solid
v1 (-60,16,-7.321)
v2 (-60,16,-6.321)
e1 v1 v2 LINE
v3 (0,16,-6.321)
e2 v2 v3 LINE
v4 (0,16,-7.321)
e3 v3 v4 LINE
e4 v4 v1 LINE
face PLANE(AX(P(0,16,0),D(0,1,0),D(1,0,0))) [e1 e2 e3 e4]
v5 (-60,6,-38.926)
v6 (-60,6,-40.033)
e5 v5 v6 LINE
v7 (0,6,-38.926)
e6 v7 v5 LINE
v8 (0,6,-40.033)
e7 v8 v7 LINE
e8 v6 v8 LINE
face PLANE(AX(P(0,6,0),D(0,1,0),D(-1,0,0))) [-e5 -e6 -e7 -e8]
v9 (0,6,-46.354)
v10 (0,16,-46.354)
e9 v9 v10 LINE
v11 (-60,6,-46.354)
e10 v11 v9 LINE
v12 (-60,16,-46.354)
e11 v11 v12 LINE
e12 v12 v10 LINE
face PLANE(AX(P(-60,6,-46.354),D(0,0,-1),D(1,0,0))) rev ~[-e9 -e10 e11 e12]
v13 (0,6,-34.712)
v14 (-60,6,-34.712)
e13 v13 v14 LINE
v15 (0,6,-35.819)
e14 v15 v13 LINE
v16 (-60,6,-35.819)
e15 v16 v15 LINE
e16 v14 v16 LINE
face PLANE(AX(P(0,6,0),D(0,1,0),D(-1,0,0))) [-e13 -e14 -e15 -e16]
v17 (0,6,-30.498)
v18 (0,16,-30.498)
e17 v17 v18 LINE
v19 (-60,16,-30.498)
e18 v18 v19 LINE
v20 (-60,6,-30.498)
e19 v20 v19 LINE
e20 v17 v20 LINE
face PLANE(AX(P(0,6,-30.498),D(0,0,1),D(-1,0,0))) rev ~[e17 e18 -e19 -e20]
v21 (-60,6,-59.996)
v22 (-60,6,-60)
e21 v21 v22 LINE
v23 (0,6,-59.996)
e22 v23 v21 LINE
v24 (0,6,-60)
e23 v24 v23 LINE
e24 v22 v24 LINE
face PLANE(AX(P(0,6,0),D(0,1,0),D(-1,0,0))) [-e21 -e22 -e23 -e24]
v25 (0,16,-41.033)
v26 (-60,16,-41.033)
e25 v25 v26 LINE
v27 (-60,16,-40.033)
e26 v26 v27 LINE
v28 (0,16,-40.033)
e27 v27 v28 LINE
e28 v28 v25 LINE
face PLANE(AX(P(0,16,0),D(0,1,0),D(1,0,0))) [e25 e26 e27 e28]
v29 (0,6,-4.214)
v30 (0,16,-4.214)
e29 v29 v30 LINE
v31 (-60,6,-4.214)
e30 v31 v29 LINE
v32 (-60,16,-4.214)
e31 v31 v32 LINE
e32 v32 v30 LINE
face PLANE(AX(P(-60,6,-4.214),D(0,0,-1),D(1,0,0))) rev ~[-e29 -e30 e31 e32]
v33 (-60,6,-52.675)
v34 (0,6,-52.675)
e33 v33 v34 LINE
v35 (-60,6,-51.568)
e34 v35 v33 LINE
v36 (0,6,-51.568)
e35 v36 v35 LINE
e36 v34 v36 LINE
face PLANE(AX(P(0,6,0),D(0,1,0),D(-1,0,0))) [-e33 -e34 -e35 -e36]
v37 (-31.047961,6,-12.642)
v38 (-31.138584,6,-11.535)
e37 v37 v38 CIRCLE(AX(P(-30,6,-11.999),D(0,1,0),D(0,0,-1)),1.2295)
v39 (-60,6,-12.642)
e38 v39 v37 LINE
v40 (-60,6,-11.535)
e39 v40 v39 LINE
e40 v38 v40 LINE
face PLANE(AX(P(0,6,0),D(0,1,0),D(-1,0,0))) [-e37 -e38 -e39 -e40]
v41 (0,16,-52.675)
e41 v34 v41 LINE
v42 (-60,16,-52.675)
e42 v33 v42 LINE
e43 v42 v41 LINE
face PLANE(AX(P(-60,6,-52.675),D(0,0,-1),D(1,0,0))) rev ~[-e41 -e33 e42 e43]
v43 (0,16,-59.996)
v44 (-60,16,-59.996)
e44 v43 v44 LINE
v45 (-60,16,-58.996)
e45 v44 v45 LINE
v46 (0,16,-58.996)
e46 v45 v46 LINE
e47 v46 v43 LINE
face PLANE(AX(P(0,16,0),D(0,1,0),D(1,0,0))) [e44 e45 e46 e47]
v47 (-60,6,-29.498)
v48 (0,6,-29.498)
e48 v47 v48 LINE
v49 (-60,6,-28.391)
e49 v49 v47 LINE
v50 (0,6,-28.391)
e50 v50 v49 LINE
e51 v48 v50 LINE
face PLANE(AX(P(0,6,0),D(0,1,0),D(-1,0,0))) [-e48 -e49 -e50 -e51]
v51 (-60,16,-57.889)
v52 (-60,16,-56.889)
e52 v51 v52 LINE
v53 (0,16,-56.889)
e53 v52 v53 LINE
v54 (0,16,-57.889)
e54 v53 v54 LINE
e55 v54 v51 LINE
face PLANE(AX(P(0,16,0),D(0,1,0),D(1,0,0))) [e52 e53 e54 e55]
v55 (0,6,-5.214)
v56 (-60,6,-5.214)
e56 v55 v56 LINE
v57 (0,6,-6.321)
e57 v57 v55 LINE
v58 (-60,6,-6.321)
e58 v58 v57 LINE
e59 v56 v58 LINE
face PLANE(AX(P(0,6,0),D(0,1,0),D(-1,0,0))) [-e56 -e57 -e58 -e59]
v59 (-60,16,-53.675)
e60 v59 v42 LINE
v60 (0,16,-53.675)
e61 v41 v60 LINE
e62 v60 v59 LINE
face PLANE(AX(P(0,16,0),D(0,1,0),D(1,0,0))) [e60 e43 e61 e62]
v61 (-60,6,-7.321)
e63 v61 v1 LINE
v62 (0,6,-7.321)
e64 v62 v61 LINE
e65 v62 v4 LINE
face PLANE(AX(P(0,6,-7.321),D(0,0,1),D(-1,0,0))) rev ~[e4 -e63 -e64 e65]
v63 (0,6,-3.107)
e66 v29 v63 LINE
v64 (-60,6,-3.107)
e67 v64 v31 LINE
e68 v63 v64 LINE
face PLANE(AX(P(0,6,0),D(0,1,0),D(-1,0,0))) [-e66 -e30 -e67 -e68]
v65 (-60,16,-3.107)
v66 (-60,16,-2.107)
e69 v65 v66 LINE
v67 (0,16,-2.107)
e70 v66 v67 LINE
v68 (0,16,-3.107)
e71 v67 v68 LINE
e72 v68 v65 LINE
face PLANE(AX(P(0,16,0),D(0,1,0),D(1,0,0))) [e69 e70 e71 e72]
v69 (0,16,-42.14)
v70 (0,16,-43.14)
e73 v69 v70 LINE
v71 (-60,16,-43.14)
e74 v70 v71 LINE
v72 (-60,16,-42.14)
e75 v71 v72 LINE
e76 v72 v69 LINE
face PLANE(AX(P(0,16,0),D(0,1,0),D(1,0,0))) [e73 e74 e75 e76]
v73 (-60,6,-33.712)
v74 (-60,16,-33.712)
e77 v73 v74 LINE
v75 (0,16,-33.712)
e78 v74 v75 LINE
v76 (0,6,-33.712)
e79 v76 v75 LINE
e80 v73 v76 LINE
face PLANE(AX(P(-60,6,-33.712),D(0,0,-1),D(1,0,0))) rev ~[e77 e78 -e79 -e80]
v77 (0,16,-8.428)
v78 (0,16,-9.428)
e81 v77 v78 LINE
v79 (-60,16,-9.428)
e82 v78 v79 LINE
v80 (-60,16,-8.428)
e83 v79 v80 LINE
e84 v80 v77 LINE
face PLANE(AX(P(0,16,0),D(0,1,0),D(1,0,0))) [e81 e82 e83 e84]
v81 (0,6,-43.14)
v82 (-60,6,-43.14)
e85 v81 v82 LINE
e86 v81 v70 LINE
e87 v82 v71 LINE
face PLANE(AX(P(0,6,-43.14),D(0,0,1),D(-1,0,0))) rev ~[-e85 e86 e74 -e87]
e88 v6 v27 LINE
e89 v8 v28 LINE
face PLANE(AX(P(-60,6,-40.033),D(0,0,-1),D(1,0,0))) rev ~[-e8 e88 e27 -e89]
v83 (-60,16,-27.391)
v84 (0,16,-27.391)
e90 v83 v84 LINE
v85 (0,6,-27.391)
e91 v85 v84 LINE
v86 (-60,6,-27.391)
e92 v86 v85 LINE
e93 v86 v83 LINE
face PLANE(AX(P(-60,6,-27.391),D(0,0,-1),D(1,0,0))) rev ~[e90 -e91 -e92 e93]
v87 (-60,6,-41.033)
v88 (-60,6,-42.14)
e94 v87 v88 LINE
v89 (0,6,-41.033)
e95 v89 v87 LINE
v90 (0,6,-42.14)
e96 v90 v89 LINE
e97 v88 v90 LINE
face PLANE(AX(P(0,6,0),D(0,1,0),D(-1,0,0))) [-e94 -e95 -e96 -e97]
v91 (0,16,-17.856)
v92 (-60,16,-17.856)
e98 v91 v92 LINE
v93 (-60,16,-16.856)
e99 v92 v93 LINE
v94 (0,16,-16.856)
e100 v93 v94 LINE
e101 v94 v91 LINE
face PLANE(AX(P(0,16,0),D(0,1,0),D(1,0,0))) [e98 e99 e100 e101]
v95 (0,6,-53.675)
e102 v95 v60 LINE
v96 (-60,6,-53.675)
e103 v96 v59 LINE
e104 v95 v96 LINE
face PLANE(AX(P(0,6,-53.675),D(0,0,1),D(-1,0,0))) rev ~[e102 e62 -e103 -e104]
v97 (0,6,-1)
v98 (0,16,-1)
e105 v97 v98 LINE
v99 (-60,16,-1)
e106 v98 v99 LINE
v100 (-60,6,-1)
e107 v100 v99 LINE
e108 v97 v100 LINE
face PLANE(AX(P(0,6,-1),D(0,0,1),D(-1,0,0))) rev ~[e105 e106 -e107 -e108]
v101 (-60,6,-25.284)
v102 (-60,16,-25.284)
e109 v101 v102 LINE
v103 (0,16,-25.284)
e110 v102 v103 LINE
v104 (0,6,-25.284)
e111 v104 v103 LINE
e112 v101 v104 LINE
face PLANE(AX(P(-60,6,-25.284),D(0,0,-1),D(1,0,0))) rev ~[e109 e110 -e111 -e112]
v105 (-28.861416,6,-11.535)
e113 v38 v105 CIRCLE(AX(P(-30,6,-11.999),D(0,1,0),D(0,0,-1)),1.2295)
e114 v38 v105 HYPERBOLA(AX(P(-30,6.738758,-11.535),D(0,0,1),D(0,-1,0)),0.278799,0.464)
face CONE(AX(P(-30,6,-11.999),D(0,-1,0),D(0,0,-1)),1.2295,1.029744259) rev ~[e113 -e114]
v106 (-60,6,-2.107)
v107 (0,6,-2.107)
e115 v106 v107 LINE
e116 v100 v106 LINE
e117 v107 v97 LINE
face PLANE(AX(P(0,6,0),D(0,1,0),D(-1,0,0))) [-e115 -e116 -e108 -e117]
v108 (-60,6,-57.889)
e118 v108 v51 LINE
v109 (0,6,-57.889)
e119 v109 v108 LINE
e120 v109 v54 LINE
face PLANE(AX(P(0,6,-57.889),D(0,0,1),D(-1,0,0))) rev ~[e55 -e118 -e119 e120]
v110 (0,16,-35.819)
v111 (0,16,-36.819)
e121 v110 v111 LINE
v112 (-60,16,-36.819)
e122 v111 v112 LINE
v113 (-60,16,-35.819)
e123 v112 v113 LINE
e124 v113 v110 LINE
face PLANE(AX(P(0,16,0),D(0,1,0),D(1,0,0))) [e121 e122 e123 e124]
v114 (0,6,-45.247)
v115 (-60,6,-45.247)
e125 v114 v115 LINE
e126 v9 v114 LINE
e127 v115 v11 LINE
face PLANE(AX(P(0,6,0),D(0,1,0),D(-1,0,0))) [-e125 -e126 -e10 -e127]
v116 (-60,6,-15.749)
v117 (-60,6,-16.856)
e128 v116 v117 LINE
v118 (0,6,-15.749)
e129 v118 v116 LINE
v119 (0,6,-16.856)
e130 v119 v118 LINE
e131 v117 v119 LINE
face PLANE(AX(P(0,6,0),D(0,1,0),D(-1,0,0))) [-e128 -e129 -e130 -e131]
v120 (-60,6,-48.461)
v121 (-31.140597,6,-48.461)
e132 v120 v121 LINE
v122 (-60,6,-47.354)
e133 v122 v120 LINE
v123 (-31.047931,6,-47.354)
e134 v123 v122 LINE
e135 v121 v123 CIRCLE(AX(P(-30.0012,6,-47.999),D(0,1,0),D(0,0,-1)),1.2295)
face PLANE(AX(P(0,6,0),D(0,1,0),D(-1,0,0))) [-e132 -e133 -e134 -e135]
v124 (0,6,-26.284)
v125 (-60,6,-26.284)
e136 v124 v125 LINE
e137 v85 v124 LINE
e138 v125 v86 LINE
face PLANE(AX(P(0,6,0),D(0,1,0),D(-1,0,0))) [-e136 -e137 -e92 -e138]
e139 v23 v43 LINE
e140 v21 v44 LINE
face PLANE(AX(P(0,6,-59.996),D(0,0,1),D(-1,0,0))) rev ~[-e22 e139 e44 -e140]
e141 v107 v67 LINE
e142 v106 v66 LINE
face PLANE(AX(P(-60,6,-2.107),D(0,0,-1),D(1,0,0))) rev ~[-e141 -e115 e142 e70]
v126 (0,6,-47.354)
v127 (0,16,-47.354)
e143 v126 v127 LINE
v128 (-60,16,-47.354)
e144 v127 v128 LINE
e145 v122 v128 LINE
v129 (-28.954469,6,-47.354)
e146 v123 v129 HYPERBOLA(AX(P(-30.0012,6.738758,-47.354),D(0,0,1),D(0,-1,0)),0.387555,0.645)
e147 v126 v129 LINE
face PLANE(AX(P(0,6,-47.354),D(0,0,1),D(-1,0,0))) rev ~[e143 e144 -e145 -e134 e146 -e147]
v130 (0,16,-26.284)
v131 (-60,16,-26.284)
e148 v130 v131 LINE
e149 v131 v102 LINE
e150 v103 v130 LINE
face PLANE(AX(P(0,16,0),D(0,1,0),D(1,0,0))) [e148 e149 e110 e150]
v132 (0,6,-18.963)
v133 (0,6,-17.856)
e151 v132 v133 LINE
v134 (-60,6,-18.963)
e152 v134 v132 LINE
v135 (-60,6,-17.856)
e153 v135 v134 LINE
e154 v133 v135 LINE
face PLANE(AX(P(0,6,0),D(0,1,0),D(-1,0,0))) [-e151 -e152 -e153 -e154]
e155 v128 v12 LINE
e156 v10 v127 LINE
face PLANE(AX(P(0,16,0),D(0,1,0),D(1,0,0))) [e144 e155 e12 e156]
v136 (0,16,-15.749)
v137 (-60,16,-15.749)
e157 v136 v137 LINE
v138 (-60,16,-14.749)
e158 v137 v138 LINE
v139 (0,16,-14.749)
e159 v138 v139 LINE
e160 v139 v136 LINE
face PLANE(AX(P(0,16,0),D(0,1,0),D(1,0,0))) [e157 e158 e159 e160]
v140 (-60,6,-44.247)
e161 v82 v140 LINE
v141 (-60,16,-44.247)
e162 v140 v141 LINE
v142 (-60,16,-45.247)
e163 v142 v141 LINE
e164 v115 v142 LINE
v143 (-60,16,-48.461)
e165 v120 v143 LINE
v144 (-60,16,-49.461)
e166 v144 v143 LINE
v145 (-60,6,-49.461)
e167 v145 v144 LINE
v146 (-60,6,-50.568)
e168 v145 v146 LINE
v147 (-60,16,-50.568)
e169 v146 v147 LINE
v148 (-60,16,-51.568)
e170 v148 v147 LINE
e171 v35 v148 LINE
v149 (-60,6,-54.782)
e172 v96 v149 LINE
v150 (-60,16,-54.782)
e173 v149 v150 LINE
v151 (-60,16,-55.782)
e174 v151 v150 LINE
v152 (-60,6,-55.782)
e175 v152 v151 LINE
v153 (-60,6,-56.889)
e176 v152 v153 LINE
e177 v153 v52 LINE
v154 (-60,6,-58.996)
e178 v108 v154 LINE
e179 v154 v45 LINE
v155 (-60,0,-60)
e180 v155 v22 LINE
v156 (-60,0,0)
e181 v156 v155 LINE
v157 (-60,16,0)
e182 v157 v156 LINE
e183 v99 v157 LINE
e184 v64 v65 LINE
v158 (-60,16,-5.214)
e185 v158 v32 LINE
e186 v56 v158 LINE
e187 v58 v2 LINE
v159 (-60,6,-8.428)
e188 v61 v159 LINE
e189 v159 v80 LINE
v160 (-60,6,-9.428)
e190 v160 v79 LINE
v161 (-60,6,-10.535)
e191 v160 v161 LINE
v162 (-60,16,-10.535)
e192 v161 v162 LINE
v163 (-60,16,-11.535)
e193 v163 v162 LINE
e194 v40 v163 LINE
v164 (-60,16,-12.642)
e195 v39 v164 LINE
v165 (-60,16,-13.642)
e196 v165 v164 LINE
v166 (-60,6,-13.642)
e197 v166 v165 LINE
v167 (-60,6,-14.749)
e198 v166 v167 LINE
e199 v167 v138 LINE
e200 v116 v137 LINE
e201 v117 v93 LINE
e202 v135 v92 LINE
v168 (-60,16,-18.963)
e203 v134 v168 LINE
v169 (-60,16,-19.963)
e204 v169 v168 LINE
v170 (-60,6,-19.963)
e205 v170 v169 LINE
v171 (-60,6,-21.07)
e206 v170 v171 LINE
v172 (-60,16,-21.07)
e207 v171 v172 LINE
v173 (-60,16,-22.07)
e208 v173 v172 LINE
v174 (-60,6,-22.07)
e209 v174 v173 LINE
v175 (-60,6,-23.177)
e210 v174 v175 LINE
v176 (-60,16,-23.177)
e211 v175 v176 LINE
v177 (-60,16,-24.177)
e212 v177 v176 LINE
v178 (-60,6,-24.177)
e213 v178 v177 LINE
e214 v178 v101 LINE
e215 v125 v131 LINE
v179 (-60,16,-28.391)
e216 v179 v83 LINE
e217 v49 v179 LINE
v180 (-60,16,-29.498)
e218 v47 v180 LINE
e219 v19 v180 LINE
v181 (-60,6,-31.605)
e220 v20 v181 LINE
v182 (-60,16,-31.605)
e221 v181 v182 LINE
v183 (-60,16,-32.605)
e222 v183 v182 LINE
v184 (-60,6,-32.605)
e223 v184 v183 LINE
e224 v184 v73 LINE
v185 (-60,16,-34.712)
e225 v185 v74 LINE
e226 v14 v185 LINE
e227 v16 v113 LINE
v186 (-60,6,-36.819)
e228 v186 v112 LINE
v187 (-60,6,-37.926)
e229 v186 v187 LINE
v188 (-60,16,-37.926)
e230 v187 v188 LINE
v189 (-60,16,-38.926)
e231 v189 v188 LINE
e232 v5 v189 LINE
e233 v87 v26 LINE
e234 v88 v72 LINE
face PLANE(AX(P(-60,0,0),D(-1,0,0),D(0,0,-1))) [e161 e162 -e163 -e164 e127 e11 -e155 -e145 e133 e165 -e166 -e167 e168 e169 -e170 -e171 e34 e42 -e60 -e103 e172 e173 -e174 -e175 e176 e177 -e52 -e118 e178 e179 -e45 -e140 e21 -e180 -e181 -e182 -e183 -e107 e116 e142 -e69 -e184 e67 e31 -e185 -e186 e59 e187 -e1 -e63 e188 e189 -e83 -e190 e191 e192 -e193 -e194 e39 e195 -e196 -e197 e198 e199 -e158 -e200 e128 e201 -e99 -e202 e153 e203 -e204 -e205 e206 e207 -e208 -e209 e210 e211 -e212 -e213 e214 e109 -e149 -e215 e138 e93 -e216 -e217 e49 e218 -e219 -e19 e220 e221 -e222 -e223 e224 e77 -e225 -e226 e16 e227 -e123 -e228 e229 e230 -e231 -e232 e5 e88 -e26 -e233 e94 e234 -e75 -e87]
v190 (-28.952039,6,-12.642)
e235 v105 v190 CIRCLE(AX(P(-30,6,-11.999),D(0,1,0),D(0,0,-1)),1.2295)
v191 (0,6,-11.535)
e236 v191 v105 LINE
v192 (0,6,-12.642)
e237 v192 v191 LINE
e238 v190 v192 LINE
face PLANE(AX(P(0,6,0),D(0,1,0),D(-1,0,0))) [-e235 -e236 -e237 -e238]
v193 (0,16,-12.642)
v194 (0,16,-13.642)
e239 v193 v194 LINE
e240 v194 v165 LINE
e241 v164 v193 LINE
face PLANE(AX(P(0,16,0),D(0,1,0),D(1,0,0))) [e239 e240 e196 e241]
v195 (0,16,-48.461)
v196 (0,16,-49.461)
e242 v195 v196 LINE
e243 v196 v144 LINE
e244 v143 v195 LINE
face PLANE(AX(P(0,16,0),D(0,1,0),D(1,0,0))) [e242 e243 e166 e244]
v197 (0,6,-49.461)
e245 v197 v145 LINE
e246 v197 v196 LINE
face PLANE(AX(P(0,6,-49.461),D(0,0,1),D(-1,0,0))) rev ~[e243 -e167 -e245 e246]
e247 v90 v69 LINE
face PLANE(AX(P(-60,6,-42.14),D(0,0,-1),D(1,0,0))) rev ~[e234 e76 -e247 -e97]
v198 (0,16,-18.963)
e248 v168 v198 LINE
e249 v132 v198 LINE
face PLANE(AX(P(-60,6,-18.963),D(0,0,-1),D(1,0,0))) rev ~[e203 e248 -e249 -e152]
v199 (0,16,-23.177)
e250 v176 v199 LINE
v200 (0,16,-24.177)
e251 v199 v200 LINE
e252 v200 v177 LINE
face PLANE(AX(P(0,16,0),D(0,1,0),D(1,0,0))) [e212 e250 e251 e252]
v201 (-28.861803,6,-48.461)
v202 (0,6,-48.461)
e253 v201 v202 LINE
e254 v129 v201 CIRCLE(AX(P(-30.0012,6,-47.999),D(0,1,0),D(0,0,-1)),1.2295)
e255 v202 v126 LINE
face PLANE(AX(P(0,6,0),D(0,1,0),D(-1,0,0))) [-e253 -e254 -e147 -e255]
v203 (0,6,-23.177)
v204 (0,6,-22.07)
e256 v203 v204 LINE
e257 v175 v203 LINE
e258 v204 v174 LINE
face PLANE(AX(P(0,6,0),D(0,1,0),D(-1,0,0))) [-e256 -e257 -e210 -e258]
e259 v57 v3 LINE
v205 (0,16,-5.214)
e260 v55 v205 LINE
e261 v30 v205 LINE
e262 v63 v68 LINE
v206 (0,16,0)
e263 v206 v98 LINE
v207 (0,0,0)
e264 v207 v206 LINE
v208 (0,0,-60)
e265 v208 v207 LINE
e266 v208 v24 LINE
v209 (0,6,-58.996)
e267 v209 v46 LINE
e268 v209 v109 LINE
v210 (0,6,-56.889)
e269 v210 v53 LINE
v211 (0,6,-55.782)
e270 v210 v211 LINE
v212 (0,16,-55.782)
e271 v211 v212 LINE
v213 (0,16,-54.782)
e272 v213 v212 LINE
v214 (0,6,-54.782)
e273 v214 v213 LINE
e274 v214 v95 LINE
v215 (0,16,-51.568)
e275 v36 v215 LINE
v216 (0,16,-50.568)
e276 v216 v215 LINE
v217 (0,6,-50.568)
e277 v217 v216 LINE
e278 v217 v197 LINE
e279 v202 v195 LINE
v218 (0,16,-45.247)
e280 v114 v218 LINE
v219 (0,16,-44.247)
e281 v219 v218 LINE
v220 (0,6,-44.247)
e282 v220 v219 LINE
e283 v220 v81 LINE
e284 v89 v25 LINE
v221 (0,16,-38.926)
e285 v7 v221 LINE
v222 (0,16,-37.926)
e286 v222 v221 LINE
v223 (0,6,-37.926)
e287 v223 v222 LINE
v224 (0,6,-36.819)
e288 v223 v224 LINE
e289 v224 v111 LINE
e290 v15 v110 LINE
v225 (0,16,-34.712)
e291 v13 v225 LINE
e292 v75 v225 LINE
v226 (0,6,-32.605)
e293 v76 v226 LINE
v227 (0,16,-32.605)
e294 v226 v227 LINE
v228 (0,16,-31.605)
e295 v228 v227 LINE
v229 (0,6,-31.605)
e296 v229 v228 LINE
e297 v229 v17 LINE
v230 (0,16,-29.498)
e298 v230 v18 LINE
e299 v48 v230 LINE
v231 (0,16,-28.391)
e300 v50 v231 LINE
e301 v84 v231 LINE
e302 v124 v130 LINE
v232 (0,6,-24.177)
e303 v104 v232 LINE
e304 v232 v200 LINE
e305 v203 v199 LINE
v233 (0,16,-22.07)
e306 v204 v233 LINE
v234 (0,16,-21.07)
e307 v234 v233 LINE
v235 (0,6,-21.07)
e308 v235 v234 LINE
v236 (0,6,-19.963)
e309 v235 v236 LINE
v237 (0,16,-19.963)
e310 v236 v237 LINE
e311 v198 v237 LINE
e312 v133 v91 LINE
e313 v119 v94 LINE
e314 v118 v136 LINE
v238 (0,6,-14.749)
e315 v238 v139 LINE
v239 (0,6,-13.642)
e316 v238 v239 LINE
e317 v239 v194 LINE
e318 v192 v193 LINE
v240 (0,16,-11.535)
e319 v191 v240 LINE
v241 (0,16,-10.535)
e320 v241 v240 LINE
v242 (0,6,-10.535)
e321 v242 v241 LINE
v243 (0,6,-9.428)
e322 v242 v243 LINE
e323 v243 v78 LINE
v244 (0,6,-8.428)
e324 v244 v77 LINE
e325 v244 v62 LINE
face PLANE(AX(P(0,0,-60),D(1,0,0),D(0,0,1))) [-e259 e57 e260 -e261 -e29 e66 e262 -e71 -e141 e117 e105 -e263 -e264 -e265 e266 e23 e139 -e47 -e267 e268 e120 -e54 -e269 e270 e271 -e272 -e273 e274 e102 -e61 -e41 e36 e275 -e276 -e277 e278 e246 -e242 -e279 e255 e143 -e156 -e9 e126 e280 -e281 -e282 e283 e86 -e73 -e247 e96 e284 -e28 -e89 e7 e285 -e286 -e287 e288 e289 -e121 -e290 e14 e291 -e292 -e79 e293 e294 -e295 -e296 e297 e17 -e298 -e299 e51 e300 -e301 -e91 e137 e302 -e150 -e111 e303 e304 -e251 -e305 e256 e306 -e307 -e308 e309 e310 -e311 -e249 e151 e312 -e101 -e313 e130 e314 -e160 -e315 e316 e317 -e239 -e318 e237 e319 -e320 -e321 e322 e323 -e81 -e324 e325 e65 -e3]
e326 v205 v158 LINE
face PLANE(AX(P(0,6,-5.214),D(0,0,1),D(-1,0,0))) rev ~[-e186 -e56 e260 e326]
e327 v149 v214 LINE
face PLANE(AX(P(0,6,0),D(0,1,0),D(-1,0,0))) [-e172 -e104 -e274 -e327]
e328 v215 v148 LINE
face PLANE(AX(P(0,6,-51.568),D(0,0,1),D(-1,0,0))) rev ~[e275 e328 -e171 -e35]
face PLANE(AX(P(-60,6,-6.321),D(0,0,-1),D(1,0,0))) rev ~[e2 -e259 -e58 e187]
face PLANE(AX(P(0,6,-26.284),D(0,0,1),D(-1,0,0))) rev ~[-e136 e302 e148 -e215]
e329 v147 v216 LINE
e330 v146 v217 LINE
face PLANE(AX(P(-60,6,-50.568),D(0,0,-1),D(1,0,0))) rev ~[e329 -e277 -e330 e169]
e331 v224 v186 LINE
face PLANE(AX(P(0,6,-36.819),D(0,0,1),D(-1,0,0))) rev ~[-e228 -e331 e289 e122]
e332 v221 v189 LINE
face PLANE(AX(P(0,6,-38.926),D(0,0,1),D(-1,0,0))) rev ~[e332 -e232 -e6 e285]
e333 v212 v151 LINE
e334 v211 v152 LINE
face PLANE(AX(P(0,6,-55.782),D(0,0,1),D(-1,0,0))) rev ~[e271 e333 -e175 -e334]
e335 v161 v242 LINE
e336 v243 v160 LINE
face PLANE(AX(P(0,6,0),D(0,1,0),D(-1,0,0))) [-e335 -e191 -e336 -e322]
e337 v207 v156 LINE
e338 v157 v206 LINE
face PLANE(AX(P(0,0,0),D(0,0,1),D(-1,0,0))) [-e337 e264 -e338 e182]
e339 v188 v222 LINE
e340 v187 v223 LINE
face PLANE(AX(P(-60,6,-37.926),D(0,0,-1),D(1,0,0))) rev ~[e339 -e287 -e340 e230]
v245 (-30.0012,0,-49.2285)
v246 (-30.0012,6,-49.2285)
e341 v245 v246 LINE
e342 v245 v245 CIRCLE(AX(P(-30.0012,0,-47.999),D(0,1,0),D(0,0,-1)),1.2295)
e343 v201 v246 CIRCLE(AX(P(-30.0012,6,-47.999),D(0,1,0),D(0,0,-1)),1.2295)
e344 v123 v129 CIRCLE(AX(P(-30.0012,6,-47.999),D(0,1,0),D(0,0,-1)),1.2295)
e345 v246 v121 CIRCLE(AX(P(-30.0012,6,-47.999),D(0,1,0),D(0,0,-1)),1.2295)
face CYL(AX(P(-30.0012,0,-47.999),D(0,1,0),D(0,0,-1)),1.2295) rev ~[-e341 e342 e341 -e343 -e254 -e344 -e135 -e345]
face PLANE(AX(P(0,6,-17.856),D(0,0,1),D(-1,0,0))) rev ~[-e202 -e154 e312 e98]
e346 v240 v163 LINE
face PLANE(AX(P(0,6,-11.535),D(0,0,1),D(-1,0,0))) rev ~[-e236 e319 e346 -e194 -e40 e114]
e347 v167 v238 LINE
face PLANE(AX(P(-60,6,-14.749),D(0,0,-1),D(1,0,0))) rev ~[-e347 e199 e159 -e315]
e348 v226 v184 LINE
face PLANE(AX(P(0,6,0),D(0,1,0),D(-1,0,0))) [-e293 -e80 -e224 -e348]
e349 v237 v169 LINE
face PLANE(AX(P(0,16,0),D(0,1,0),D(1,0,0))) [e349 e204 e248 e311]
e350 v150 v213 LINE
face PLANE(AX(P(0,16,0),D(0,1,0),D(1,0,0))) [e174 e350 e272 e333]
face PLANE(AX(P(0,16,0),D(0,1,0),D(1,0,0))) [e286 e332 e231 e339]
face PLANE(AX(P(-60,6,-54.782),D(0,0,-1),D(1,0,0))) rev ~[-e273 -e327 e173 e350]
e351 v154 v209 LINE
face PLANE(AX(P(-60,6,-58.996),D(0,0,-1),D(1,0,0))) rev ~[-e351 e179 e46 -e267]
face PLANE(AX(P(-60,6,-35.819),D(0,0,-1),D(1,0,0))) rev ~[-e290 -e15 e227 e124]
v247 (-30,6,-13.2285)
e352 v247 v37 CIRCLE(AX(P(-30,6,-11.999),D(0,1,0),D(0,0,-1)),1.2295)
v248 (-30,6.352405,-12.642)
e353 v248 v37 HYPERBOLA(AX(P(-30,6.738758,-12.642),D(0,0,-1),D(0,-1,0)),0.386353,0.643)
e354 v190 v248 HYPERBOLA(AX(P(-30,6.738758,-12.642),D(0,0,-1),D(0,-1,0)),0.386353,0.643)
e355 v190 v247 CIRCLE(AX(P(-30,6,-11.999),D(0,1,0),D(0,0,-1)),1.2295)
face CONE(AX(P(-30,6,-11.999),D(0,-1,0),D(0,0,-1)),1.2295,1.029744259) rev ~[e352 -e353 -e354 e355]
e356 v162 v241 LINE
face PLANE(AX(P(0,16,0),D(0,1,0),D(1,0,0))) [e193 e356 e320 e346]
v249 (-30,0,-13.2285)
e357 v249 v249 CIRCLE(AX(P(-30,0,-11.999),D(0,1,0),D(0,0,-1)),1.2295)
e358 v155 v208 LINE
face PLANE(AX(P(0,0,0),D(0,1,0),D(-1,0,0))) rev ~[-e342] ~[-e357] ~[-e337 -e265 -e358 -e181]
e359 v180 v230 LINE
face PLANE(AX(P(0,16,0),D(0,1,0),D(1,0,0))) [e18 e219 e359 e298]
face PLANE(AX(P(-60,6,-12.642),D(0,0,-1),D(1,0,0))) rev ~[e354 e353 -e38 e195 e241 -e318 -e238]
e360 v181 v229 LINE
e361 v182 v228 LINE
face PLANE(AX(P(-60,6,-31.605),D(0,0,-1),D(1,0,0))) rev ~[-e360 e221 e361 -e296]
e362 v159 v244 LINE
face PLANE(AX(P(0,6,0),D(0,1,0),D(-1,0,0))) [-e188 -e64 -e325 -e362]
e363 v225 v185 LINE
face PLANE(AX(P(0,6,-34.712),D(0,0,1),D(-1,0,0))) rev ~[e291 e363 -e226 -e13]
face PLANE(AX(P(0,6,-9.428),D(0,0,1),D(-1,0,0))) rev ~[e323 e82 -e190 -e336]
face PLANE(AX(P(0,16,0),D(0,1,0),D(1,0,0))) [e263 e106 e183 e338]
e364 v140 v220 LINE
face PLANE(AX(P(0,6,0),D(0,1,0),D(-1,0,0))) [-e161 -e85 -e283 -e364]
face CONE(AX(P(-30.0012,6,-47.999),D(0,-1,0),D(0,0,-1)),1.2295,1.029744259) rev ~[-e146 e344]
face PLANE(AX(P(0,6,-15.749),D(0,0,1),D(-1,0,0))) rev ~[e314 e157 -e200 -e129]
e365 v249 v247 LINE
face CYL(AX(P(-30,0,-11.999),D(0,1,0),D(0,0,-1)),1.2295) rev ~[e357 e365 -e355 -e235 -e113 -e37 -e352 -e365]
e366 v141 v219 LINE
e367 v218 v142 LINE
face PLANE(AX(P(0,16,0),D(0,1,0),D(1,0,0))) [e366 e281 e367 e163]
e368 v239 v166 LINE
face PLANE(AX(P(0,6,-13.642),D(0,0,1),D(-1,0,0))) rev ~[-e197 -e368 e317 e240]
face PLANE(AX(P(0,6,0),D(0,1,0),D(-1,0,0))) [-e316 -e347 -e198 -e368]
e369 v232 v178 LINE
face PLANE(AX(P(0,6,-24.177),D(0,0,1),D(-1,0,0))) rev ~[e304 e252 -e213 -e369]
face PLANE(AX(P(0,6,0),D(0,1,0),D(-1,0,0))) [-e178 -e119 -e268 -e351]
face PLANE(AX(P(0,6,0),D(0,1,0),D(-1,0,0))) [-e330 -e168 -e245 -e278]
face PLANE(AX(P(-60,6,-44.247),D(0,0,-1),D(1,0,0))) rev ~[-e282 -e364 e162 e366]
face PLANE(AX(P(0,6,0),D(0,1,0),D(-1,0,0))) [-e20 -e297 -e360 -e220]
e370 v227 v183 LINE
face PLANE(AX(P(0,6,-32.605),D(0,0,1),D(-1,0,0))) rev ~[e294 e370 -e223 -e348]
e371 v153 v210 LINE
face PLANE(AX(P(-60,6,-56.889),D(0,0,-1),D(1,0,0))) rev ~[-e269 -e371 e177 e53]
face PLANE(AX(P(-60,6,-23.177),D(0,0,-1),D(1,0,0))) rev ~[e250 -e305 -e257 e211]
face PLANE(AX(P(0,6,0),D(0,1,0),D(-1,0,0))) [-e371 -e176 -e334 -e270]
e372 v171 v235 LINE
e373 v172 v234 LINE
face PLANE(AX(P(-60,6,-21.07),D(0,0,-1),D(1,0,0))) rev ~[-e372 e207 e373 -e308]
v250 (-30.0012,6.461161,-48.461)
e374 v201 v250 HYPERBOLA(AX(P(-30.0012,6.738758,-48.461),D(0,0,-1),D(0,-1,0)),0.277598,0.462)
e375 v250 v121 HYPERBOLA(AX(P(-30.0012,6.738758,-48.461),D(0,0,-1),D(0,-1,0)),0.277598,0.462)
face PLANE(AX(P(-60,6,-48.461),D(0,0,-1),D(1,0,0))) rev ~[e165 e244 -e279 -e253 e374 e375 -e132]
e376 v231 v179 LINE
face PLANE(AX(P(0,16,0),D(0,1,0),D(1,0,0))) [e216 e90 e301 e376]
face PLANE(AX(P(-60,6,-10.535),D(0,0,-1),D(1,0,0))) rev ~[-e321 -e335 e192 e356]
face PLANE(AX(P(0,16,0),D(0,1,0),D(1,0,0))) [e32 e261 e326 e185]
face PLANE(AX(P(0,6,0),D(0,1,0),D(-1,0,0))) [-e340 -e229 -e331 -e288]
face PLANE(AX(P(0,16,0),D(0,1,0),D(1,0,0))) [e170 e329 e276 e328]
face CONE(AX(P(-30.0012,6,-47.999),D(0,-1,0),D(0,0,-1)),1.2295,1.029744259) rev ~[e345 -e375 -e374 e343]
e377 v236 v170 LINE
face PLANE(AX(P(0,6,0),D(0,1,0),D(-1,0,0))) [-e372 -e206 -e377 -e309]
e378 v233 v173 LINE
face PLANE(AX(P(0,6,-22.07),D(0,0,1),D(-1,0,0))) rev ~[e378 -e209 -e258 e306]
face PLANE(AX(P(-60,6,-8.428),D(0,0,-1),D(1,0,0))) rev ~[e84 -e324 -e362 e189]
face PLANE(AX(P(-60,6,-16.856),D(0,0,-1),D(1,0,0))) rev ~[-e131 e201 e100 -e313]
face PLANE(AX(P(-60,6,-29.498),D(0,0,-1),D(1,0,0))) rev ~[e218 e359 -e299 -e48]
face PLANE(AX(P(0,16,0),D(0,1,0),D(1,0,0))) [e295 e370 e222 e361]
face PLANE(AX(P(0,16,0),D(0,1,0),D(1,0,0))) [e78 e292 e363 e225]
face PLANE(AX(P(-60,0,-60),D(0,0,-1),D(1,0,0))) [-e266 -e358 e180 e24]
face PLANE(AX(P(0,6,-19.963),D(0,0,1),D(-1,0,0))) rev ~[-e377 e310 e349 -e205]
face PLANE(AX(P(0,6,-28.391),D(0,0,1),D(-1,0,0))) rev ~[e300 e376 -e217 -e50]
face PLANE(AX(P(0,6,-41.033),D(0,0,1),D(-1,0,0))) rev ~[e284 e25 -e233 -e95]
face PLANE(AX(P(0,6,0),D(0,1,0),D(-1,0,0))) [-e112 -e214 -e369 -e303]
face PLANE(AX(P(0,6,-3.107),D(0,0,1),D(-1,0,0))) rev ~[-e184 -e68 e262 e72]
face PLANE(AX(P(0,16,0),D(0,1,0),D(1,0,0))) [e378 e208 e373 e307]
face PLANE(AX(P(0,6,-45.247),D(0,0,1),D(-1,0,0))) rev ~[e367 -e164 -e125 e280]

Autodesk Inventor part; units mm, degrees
ref_plane "YZ Plane" through (0, 0, 0) normal (1, 0, 0) x (0, 1, 0)
ref_plane "XZ Plane" through (0, 0, 0) normal (0, 1, 0) x (-1, 0, 0)
ref_plane "XY Plane" through (0, 0, 0) normal (0, 0, 1) x (1, 0, 0)
sketch "Sketch1" plane through (0, 0, 0) normal (0, 1, 0) x (-1, 0, 0)
  line L0 (0, -72) -> (0, 12) construction
  line L1 (-12, 0) -> (72, 0) construction
  line L2 (0, 0) -> (60, 0)
  line L3 (60, 0) -> (60, -60)
  line L4 (60, -60) -> (0, -60)
  line L5 (0, -60) -> (0, 0)
  dimension "d0" = 60
  dimension "d1" = 60
extrude "Extrusion1" add sketch "Sketch1" along normal blind 6
sketch "Sketch2" plane through (0, 6, 0) normal (0, 1, 0) x (1, 0, 0)
  line L0 (-60, 0) -> (0, 0) construction
  line L1 (0, 0) -> (0, 60) construction
  line L2 (0, 60) -> (-60, 60) construction
  line L3 (-60, 60) -> (-60, 0) construction
  line L4 (0, 0) -> (0, 60) construction
  line L5 (-60, 0) -> (0, 0)
  line L6 (0, 0) -> (0, 1)
  line L7 (0, 1) -> (-60, 1)
  line L8 (-60, 1) -> (-60, 0)
  line L9 (-60, 2.107) -> (0, 2.107)
  line L10 (0, 2.107) -> (0, 3.107)
  line L11 (0, 3.107) -> (-60, 3.107)
  line L12 (-60, 3.107) -> (-60, 2.107)
  line L13 (-60, 4.214) -> (0, 4.214)
  line L14 (0, 4.214) -> (0, 5.214)
  line L15 (0, 5.214) -> (-60, 5.214)
  line L16 (-60, 5.214) -> (-60, 4.214)
  line L17 (-60, 6.321) -> (0, 6.321)
  line L18 (0, 6.321) -> (0, 7.321)
  line L19 (0, 7.321) -> (-60, 7.321)
  line L20 (-60, 7.321) -> (-60, 6.321)
  line L21 (-60, 8.428) -> (0, 8.428)
  line L22 (0, 8.428) -> (0, 9.428)
  line L23 (0, 9.428) -> (-60, 9.428)
  line L24 (-60, 9.428) -> (-60, 8.428)
  line L25 (-60, 10.535) -> (0, 10.535)
  line L26 (0, 10.535) -> (0, 11.535)
  line L27 (0, 11.535) -> (-60, 11.535)
  line L28 (-60, 11.535) -> (-60, 10.535)
  line L29 (-60, 12.642) -> (0, 12.642)
  line L30 (0, 12.642) -> (0, 13.642)
  line L31 (0, 13.642) -> (-60, 13.642)
  line L32 (-60, 13.642) -> (-60, 12.642)
  line L33 (-60, 14.749) -> (0, 14.749)
  line L34 (0, 14.749) -> (0, 15.749)
  line L35 (0, 15.749) -> (-60, 15.749)
  line L36 (-60, 15.749) -> (-60, 14.749)
  line L37 (-60, 16.856) -> (0, 16.856)
  line L38 (0, 16.856) -> (0, 17.856)
  line L39 (0, 17.856) -> (-60, 17.856)
  line L40 (-60, 17.856) -> (-60, 16.856)
  line L41 (-60, 18.963) -> (0, 18.963)
  line L42 (0, 18.963) -> (0, 19.963)
  line L43 (0, 19.963) -> (-60, 19.963)
  line L44 (-60, 19.963) -> (-60, 18.963)
  line L45 (-60, 21.07) -> (0, 21.07)
  line L46 (0, 21.07) -> (0, 22.07)
  line L47 (0, 22.07) -> (-60, 22.07)
  line L48 (-60, 22.07) -> (-60, 21.07)
  line L49 (-60, 23.177) -> (0, 23.177)
  line L50 (0, 23.177) -> (0, 24.177)
  line L51 (0, 24.177) -> (-60, 24.177)
  line L52 (-60, 24.177) -> (-60, 23.177)
  line L53 (-60, 25.284) -> (0, 25.284)
  line L54 (0, 25.284) -> (0, 26.284)
  line L55 (0, 26.284) -> (-60, 26.284)
  line L56 (-60, 26.284) -> (-60, 25.284)
  line L57 (-60, 27.391) -> (0, 27.391)
  line L58 (0, 27.391) -> (0, 28.391)
  line L59 (0, 28.391) -> (-60, 28.391)
  line L60 (-60, 28.391) -> (-60, 27.391)
  line L61 (-60, 29.498) -> (0, 29.498)
  line L62 (0, 29.498) -> (0, 30.498)
  line L63 (0, 30.498) -> (-60, 30.498)
  line L64 (-60, 30.498) -> (-60, 29.498)
  line L65 (-60, 31.605) -> (0, 31.605)
  line L66 (0, 31.605) -> (0, 32.605)
  line L67 (0, 32.605) -> (-60, 32.605)
  line L68 (-60, 32.605) -> (-60, 31.605)
  line L69 (-60, 33.712) -> (0, 33.712)
  line L70 (0, 33.712) -> (0, 34.712)
  line L71 (0, 34.712) -> (-60, 34.712)
  line L72 (-60, 34.712) -> (-60, 33.712)
  line L73 (-60, 35.819) -> (0, 35.819)
  line L74 (0, 35.819) -> (0, 36.819)
  line L75 (0, 36.819) -> (-60, 36.819)
  line L76 (-60, 36.819) -> (-60, 35.819)
  line L77 (-60, 37.926) -> (0, 37.926)
  line L78 (0, 37.926) -> (0, 38.926)
  line L79 (0, 38.926) -> (-60, 38.926)
  line L80 (-60, 38.926) -> (-60, 37.926)
  line L81 (-60, 40.033) -> (0, 40.033)
  line L82 (0, 40.033) -> (0, 41.033)
  line L83 (0, 41.033) -> (-60, 41.033)
  line L84 (-60, 41.033) -> (-60, 40.033)
  line L85 (-60, 42.14) -> (0, 42.14)
  line L86 (0, 42.14) -> (0, 43.14)
  line L87 (0, 43.14) -> (-60, 43.14)
  line L88 (-60, 43.14) -> (-60, 42.14)
  line L89 (-60, 44.247) -> (0, 44.247)
  line L90 (0, 44.247) -> (0, 45.247)
  line L91 (0, 45.247) -> (-60, 45.247)
  line L92 (-60, 45.247) -> (-60, 44.247)
  line L93 (-60, 46.354) -> (0, 46.354)
  line L94 (0, 46.354) -> (0, 47.354)
  line L95 (0, 47.354) -> (-60, 47.354)
  line L96 (-60, 47.354) -> (-60, 46.354)
  line L97 (-60, 48.461) -> (0, 48.461)
  line L98 (0, 48.461) -> (0, 49.461)
  line L99 (0, 49.461) -> (-60, 49.461)
  line L100 (-60, 49.461) -> (-60, 48.461)
  line L101 (-60, 50.568) -> (0, 50.568)
  line L102 (0, 50.568) -> (0, 51.568)
  line L103 (0, 51.568) -> (-60, 51.568)
  line L104 (-60, 51.568) -> (-60, 50.568)
  line L105 (-60, 52.675) -> (0, 52.675)
  line L106 (0, 52.675) -> (0, 53.675)
  line L107 (0, 53.675) -> (-60, 53.675)
  line L108 (-60, 53.675) -> (-60, 52.675)
  line L109 (-60, 54.782) -> (0, 54.782)
  line L110 (0, 54.782) -> (0, 55.782)
  line L111 (0, 55.782) -> (-60, 55.782)
  line L112 (-60, 55.782) -> (-60, 54.782)
  line L113 (-60, 56.889) -> (0, 56.889)
  line L114 (0, 56.889) -> (0, 57.889)
  line L115 (0, 57.889) -> (-60, 57.889)
  line L116 (-60, 57.889) -> (-60, 56.889)
  line L117 (-60, 58.996) -> (0, 58.996)
  line L118 (0, 58.996) -> (0, 59.996)
  line L119 (0, 59.996) -> (-60, 59.996)
  line L120 (-60, 59.996) -> (-60, 58.996)
  line L121 (-60, 61.103) -> (0, 61.103)
  line L122 (0, 61.103) -> (0, 62.103)
  line L123 (0, 62.103) -> (-60, 62.103)
  line L124 (-60, 62.103) -> (-60, 61.103)
  line L125 (-60, 63.21) -> (0, 63.21)
  line L126 (0, 63.21) -> (0, 64.21)
  line L127 (0, 64.21) -> (-60, 64.21)
  line L128 (-60, 64.21) -> (-60, 63.21)
  line L129 (-60, 65.317) -> (0, 65.317)
  line L130 (0, 65.317) -> (0, 66.317)
  line L131 (0, 66.317) -> (-60, 66.317)
  line L132 (-60, 66.317) -> (-60, 65.317)
  dimension "d4" = 1
  dimension "d7" = 2.107
extrude "Extrusion2" add sketch "Sketch2" along normal blind 10 contours L8 L7 L6 L5 | L12 L11 L10 L9 | L16 L15 L14 L13 | L20 L19 L18 L17 | L24 L23 L22 L21 | L28 L27 L26 L25 | L32 L31 L30 L29 | L36 L35 L34 L33 | L40 L39 L38 L37 | L44 L43 L42 L41 | L48 L47 L46 L45 | L52 L51 L50 L49 | L56 L55 L54 L53 | L60 L59 L58 L57 | L64 L63 L62 L61 | L68 L67 L66 L65 | L72 L71 L70 L69 | L76 L75 L74 L73 | L80 L79 L78 L77 | L84 L83 L82 L81 | L88 L87 L86 L85 | L92 L91 L90 L89 | L96 L95 L94 L93 | L100 L99 L98 L97 | L104 L103 L102 L101 | L108 L107 L106 L105 | L112 L111 L110 L109 | L116 L115 L114 L113 | L120 L119 L118 L117
sketch "Sketch3" plane through (0, 0, 0) normal (0, -1, 0) x (1, 0, 0)
  line L0 (0, 0) -> (-60, 0) construction
  line L1 (-60, 0) -> (-60, -60) construction
  line L2 (-60, -60) -> (0, -60) construction
  line L3 (0, -60) -> (0, 0) construction
  line L4 (-60, -30.498) -> (-60, -29.498) construction
  line L5 (-60, -29.998) -> (0, -30) construction
  line L6 (-60, -60) -> (0, -60) construction
  line L7 (-30, -60) -> (-30, 0) construction
  line L8 (0, 0) -> (-60, 0) construction
  point P0 (-30.0012, -47.999)
  point P1 (-30, -11.999)
  dimension "d17" = 36
hole "Hole1" at (-30.0012, 0, -47.999) at (-30, 0, -11.999) direction (0, 1, 0) diameter 2.459 depth 6 tip angle 118 thread size "M3x0.5" class "6H" standard "ISO Metric profile"
properties part number "heatsink" material "Aluminum 6061"
